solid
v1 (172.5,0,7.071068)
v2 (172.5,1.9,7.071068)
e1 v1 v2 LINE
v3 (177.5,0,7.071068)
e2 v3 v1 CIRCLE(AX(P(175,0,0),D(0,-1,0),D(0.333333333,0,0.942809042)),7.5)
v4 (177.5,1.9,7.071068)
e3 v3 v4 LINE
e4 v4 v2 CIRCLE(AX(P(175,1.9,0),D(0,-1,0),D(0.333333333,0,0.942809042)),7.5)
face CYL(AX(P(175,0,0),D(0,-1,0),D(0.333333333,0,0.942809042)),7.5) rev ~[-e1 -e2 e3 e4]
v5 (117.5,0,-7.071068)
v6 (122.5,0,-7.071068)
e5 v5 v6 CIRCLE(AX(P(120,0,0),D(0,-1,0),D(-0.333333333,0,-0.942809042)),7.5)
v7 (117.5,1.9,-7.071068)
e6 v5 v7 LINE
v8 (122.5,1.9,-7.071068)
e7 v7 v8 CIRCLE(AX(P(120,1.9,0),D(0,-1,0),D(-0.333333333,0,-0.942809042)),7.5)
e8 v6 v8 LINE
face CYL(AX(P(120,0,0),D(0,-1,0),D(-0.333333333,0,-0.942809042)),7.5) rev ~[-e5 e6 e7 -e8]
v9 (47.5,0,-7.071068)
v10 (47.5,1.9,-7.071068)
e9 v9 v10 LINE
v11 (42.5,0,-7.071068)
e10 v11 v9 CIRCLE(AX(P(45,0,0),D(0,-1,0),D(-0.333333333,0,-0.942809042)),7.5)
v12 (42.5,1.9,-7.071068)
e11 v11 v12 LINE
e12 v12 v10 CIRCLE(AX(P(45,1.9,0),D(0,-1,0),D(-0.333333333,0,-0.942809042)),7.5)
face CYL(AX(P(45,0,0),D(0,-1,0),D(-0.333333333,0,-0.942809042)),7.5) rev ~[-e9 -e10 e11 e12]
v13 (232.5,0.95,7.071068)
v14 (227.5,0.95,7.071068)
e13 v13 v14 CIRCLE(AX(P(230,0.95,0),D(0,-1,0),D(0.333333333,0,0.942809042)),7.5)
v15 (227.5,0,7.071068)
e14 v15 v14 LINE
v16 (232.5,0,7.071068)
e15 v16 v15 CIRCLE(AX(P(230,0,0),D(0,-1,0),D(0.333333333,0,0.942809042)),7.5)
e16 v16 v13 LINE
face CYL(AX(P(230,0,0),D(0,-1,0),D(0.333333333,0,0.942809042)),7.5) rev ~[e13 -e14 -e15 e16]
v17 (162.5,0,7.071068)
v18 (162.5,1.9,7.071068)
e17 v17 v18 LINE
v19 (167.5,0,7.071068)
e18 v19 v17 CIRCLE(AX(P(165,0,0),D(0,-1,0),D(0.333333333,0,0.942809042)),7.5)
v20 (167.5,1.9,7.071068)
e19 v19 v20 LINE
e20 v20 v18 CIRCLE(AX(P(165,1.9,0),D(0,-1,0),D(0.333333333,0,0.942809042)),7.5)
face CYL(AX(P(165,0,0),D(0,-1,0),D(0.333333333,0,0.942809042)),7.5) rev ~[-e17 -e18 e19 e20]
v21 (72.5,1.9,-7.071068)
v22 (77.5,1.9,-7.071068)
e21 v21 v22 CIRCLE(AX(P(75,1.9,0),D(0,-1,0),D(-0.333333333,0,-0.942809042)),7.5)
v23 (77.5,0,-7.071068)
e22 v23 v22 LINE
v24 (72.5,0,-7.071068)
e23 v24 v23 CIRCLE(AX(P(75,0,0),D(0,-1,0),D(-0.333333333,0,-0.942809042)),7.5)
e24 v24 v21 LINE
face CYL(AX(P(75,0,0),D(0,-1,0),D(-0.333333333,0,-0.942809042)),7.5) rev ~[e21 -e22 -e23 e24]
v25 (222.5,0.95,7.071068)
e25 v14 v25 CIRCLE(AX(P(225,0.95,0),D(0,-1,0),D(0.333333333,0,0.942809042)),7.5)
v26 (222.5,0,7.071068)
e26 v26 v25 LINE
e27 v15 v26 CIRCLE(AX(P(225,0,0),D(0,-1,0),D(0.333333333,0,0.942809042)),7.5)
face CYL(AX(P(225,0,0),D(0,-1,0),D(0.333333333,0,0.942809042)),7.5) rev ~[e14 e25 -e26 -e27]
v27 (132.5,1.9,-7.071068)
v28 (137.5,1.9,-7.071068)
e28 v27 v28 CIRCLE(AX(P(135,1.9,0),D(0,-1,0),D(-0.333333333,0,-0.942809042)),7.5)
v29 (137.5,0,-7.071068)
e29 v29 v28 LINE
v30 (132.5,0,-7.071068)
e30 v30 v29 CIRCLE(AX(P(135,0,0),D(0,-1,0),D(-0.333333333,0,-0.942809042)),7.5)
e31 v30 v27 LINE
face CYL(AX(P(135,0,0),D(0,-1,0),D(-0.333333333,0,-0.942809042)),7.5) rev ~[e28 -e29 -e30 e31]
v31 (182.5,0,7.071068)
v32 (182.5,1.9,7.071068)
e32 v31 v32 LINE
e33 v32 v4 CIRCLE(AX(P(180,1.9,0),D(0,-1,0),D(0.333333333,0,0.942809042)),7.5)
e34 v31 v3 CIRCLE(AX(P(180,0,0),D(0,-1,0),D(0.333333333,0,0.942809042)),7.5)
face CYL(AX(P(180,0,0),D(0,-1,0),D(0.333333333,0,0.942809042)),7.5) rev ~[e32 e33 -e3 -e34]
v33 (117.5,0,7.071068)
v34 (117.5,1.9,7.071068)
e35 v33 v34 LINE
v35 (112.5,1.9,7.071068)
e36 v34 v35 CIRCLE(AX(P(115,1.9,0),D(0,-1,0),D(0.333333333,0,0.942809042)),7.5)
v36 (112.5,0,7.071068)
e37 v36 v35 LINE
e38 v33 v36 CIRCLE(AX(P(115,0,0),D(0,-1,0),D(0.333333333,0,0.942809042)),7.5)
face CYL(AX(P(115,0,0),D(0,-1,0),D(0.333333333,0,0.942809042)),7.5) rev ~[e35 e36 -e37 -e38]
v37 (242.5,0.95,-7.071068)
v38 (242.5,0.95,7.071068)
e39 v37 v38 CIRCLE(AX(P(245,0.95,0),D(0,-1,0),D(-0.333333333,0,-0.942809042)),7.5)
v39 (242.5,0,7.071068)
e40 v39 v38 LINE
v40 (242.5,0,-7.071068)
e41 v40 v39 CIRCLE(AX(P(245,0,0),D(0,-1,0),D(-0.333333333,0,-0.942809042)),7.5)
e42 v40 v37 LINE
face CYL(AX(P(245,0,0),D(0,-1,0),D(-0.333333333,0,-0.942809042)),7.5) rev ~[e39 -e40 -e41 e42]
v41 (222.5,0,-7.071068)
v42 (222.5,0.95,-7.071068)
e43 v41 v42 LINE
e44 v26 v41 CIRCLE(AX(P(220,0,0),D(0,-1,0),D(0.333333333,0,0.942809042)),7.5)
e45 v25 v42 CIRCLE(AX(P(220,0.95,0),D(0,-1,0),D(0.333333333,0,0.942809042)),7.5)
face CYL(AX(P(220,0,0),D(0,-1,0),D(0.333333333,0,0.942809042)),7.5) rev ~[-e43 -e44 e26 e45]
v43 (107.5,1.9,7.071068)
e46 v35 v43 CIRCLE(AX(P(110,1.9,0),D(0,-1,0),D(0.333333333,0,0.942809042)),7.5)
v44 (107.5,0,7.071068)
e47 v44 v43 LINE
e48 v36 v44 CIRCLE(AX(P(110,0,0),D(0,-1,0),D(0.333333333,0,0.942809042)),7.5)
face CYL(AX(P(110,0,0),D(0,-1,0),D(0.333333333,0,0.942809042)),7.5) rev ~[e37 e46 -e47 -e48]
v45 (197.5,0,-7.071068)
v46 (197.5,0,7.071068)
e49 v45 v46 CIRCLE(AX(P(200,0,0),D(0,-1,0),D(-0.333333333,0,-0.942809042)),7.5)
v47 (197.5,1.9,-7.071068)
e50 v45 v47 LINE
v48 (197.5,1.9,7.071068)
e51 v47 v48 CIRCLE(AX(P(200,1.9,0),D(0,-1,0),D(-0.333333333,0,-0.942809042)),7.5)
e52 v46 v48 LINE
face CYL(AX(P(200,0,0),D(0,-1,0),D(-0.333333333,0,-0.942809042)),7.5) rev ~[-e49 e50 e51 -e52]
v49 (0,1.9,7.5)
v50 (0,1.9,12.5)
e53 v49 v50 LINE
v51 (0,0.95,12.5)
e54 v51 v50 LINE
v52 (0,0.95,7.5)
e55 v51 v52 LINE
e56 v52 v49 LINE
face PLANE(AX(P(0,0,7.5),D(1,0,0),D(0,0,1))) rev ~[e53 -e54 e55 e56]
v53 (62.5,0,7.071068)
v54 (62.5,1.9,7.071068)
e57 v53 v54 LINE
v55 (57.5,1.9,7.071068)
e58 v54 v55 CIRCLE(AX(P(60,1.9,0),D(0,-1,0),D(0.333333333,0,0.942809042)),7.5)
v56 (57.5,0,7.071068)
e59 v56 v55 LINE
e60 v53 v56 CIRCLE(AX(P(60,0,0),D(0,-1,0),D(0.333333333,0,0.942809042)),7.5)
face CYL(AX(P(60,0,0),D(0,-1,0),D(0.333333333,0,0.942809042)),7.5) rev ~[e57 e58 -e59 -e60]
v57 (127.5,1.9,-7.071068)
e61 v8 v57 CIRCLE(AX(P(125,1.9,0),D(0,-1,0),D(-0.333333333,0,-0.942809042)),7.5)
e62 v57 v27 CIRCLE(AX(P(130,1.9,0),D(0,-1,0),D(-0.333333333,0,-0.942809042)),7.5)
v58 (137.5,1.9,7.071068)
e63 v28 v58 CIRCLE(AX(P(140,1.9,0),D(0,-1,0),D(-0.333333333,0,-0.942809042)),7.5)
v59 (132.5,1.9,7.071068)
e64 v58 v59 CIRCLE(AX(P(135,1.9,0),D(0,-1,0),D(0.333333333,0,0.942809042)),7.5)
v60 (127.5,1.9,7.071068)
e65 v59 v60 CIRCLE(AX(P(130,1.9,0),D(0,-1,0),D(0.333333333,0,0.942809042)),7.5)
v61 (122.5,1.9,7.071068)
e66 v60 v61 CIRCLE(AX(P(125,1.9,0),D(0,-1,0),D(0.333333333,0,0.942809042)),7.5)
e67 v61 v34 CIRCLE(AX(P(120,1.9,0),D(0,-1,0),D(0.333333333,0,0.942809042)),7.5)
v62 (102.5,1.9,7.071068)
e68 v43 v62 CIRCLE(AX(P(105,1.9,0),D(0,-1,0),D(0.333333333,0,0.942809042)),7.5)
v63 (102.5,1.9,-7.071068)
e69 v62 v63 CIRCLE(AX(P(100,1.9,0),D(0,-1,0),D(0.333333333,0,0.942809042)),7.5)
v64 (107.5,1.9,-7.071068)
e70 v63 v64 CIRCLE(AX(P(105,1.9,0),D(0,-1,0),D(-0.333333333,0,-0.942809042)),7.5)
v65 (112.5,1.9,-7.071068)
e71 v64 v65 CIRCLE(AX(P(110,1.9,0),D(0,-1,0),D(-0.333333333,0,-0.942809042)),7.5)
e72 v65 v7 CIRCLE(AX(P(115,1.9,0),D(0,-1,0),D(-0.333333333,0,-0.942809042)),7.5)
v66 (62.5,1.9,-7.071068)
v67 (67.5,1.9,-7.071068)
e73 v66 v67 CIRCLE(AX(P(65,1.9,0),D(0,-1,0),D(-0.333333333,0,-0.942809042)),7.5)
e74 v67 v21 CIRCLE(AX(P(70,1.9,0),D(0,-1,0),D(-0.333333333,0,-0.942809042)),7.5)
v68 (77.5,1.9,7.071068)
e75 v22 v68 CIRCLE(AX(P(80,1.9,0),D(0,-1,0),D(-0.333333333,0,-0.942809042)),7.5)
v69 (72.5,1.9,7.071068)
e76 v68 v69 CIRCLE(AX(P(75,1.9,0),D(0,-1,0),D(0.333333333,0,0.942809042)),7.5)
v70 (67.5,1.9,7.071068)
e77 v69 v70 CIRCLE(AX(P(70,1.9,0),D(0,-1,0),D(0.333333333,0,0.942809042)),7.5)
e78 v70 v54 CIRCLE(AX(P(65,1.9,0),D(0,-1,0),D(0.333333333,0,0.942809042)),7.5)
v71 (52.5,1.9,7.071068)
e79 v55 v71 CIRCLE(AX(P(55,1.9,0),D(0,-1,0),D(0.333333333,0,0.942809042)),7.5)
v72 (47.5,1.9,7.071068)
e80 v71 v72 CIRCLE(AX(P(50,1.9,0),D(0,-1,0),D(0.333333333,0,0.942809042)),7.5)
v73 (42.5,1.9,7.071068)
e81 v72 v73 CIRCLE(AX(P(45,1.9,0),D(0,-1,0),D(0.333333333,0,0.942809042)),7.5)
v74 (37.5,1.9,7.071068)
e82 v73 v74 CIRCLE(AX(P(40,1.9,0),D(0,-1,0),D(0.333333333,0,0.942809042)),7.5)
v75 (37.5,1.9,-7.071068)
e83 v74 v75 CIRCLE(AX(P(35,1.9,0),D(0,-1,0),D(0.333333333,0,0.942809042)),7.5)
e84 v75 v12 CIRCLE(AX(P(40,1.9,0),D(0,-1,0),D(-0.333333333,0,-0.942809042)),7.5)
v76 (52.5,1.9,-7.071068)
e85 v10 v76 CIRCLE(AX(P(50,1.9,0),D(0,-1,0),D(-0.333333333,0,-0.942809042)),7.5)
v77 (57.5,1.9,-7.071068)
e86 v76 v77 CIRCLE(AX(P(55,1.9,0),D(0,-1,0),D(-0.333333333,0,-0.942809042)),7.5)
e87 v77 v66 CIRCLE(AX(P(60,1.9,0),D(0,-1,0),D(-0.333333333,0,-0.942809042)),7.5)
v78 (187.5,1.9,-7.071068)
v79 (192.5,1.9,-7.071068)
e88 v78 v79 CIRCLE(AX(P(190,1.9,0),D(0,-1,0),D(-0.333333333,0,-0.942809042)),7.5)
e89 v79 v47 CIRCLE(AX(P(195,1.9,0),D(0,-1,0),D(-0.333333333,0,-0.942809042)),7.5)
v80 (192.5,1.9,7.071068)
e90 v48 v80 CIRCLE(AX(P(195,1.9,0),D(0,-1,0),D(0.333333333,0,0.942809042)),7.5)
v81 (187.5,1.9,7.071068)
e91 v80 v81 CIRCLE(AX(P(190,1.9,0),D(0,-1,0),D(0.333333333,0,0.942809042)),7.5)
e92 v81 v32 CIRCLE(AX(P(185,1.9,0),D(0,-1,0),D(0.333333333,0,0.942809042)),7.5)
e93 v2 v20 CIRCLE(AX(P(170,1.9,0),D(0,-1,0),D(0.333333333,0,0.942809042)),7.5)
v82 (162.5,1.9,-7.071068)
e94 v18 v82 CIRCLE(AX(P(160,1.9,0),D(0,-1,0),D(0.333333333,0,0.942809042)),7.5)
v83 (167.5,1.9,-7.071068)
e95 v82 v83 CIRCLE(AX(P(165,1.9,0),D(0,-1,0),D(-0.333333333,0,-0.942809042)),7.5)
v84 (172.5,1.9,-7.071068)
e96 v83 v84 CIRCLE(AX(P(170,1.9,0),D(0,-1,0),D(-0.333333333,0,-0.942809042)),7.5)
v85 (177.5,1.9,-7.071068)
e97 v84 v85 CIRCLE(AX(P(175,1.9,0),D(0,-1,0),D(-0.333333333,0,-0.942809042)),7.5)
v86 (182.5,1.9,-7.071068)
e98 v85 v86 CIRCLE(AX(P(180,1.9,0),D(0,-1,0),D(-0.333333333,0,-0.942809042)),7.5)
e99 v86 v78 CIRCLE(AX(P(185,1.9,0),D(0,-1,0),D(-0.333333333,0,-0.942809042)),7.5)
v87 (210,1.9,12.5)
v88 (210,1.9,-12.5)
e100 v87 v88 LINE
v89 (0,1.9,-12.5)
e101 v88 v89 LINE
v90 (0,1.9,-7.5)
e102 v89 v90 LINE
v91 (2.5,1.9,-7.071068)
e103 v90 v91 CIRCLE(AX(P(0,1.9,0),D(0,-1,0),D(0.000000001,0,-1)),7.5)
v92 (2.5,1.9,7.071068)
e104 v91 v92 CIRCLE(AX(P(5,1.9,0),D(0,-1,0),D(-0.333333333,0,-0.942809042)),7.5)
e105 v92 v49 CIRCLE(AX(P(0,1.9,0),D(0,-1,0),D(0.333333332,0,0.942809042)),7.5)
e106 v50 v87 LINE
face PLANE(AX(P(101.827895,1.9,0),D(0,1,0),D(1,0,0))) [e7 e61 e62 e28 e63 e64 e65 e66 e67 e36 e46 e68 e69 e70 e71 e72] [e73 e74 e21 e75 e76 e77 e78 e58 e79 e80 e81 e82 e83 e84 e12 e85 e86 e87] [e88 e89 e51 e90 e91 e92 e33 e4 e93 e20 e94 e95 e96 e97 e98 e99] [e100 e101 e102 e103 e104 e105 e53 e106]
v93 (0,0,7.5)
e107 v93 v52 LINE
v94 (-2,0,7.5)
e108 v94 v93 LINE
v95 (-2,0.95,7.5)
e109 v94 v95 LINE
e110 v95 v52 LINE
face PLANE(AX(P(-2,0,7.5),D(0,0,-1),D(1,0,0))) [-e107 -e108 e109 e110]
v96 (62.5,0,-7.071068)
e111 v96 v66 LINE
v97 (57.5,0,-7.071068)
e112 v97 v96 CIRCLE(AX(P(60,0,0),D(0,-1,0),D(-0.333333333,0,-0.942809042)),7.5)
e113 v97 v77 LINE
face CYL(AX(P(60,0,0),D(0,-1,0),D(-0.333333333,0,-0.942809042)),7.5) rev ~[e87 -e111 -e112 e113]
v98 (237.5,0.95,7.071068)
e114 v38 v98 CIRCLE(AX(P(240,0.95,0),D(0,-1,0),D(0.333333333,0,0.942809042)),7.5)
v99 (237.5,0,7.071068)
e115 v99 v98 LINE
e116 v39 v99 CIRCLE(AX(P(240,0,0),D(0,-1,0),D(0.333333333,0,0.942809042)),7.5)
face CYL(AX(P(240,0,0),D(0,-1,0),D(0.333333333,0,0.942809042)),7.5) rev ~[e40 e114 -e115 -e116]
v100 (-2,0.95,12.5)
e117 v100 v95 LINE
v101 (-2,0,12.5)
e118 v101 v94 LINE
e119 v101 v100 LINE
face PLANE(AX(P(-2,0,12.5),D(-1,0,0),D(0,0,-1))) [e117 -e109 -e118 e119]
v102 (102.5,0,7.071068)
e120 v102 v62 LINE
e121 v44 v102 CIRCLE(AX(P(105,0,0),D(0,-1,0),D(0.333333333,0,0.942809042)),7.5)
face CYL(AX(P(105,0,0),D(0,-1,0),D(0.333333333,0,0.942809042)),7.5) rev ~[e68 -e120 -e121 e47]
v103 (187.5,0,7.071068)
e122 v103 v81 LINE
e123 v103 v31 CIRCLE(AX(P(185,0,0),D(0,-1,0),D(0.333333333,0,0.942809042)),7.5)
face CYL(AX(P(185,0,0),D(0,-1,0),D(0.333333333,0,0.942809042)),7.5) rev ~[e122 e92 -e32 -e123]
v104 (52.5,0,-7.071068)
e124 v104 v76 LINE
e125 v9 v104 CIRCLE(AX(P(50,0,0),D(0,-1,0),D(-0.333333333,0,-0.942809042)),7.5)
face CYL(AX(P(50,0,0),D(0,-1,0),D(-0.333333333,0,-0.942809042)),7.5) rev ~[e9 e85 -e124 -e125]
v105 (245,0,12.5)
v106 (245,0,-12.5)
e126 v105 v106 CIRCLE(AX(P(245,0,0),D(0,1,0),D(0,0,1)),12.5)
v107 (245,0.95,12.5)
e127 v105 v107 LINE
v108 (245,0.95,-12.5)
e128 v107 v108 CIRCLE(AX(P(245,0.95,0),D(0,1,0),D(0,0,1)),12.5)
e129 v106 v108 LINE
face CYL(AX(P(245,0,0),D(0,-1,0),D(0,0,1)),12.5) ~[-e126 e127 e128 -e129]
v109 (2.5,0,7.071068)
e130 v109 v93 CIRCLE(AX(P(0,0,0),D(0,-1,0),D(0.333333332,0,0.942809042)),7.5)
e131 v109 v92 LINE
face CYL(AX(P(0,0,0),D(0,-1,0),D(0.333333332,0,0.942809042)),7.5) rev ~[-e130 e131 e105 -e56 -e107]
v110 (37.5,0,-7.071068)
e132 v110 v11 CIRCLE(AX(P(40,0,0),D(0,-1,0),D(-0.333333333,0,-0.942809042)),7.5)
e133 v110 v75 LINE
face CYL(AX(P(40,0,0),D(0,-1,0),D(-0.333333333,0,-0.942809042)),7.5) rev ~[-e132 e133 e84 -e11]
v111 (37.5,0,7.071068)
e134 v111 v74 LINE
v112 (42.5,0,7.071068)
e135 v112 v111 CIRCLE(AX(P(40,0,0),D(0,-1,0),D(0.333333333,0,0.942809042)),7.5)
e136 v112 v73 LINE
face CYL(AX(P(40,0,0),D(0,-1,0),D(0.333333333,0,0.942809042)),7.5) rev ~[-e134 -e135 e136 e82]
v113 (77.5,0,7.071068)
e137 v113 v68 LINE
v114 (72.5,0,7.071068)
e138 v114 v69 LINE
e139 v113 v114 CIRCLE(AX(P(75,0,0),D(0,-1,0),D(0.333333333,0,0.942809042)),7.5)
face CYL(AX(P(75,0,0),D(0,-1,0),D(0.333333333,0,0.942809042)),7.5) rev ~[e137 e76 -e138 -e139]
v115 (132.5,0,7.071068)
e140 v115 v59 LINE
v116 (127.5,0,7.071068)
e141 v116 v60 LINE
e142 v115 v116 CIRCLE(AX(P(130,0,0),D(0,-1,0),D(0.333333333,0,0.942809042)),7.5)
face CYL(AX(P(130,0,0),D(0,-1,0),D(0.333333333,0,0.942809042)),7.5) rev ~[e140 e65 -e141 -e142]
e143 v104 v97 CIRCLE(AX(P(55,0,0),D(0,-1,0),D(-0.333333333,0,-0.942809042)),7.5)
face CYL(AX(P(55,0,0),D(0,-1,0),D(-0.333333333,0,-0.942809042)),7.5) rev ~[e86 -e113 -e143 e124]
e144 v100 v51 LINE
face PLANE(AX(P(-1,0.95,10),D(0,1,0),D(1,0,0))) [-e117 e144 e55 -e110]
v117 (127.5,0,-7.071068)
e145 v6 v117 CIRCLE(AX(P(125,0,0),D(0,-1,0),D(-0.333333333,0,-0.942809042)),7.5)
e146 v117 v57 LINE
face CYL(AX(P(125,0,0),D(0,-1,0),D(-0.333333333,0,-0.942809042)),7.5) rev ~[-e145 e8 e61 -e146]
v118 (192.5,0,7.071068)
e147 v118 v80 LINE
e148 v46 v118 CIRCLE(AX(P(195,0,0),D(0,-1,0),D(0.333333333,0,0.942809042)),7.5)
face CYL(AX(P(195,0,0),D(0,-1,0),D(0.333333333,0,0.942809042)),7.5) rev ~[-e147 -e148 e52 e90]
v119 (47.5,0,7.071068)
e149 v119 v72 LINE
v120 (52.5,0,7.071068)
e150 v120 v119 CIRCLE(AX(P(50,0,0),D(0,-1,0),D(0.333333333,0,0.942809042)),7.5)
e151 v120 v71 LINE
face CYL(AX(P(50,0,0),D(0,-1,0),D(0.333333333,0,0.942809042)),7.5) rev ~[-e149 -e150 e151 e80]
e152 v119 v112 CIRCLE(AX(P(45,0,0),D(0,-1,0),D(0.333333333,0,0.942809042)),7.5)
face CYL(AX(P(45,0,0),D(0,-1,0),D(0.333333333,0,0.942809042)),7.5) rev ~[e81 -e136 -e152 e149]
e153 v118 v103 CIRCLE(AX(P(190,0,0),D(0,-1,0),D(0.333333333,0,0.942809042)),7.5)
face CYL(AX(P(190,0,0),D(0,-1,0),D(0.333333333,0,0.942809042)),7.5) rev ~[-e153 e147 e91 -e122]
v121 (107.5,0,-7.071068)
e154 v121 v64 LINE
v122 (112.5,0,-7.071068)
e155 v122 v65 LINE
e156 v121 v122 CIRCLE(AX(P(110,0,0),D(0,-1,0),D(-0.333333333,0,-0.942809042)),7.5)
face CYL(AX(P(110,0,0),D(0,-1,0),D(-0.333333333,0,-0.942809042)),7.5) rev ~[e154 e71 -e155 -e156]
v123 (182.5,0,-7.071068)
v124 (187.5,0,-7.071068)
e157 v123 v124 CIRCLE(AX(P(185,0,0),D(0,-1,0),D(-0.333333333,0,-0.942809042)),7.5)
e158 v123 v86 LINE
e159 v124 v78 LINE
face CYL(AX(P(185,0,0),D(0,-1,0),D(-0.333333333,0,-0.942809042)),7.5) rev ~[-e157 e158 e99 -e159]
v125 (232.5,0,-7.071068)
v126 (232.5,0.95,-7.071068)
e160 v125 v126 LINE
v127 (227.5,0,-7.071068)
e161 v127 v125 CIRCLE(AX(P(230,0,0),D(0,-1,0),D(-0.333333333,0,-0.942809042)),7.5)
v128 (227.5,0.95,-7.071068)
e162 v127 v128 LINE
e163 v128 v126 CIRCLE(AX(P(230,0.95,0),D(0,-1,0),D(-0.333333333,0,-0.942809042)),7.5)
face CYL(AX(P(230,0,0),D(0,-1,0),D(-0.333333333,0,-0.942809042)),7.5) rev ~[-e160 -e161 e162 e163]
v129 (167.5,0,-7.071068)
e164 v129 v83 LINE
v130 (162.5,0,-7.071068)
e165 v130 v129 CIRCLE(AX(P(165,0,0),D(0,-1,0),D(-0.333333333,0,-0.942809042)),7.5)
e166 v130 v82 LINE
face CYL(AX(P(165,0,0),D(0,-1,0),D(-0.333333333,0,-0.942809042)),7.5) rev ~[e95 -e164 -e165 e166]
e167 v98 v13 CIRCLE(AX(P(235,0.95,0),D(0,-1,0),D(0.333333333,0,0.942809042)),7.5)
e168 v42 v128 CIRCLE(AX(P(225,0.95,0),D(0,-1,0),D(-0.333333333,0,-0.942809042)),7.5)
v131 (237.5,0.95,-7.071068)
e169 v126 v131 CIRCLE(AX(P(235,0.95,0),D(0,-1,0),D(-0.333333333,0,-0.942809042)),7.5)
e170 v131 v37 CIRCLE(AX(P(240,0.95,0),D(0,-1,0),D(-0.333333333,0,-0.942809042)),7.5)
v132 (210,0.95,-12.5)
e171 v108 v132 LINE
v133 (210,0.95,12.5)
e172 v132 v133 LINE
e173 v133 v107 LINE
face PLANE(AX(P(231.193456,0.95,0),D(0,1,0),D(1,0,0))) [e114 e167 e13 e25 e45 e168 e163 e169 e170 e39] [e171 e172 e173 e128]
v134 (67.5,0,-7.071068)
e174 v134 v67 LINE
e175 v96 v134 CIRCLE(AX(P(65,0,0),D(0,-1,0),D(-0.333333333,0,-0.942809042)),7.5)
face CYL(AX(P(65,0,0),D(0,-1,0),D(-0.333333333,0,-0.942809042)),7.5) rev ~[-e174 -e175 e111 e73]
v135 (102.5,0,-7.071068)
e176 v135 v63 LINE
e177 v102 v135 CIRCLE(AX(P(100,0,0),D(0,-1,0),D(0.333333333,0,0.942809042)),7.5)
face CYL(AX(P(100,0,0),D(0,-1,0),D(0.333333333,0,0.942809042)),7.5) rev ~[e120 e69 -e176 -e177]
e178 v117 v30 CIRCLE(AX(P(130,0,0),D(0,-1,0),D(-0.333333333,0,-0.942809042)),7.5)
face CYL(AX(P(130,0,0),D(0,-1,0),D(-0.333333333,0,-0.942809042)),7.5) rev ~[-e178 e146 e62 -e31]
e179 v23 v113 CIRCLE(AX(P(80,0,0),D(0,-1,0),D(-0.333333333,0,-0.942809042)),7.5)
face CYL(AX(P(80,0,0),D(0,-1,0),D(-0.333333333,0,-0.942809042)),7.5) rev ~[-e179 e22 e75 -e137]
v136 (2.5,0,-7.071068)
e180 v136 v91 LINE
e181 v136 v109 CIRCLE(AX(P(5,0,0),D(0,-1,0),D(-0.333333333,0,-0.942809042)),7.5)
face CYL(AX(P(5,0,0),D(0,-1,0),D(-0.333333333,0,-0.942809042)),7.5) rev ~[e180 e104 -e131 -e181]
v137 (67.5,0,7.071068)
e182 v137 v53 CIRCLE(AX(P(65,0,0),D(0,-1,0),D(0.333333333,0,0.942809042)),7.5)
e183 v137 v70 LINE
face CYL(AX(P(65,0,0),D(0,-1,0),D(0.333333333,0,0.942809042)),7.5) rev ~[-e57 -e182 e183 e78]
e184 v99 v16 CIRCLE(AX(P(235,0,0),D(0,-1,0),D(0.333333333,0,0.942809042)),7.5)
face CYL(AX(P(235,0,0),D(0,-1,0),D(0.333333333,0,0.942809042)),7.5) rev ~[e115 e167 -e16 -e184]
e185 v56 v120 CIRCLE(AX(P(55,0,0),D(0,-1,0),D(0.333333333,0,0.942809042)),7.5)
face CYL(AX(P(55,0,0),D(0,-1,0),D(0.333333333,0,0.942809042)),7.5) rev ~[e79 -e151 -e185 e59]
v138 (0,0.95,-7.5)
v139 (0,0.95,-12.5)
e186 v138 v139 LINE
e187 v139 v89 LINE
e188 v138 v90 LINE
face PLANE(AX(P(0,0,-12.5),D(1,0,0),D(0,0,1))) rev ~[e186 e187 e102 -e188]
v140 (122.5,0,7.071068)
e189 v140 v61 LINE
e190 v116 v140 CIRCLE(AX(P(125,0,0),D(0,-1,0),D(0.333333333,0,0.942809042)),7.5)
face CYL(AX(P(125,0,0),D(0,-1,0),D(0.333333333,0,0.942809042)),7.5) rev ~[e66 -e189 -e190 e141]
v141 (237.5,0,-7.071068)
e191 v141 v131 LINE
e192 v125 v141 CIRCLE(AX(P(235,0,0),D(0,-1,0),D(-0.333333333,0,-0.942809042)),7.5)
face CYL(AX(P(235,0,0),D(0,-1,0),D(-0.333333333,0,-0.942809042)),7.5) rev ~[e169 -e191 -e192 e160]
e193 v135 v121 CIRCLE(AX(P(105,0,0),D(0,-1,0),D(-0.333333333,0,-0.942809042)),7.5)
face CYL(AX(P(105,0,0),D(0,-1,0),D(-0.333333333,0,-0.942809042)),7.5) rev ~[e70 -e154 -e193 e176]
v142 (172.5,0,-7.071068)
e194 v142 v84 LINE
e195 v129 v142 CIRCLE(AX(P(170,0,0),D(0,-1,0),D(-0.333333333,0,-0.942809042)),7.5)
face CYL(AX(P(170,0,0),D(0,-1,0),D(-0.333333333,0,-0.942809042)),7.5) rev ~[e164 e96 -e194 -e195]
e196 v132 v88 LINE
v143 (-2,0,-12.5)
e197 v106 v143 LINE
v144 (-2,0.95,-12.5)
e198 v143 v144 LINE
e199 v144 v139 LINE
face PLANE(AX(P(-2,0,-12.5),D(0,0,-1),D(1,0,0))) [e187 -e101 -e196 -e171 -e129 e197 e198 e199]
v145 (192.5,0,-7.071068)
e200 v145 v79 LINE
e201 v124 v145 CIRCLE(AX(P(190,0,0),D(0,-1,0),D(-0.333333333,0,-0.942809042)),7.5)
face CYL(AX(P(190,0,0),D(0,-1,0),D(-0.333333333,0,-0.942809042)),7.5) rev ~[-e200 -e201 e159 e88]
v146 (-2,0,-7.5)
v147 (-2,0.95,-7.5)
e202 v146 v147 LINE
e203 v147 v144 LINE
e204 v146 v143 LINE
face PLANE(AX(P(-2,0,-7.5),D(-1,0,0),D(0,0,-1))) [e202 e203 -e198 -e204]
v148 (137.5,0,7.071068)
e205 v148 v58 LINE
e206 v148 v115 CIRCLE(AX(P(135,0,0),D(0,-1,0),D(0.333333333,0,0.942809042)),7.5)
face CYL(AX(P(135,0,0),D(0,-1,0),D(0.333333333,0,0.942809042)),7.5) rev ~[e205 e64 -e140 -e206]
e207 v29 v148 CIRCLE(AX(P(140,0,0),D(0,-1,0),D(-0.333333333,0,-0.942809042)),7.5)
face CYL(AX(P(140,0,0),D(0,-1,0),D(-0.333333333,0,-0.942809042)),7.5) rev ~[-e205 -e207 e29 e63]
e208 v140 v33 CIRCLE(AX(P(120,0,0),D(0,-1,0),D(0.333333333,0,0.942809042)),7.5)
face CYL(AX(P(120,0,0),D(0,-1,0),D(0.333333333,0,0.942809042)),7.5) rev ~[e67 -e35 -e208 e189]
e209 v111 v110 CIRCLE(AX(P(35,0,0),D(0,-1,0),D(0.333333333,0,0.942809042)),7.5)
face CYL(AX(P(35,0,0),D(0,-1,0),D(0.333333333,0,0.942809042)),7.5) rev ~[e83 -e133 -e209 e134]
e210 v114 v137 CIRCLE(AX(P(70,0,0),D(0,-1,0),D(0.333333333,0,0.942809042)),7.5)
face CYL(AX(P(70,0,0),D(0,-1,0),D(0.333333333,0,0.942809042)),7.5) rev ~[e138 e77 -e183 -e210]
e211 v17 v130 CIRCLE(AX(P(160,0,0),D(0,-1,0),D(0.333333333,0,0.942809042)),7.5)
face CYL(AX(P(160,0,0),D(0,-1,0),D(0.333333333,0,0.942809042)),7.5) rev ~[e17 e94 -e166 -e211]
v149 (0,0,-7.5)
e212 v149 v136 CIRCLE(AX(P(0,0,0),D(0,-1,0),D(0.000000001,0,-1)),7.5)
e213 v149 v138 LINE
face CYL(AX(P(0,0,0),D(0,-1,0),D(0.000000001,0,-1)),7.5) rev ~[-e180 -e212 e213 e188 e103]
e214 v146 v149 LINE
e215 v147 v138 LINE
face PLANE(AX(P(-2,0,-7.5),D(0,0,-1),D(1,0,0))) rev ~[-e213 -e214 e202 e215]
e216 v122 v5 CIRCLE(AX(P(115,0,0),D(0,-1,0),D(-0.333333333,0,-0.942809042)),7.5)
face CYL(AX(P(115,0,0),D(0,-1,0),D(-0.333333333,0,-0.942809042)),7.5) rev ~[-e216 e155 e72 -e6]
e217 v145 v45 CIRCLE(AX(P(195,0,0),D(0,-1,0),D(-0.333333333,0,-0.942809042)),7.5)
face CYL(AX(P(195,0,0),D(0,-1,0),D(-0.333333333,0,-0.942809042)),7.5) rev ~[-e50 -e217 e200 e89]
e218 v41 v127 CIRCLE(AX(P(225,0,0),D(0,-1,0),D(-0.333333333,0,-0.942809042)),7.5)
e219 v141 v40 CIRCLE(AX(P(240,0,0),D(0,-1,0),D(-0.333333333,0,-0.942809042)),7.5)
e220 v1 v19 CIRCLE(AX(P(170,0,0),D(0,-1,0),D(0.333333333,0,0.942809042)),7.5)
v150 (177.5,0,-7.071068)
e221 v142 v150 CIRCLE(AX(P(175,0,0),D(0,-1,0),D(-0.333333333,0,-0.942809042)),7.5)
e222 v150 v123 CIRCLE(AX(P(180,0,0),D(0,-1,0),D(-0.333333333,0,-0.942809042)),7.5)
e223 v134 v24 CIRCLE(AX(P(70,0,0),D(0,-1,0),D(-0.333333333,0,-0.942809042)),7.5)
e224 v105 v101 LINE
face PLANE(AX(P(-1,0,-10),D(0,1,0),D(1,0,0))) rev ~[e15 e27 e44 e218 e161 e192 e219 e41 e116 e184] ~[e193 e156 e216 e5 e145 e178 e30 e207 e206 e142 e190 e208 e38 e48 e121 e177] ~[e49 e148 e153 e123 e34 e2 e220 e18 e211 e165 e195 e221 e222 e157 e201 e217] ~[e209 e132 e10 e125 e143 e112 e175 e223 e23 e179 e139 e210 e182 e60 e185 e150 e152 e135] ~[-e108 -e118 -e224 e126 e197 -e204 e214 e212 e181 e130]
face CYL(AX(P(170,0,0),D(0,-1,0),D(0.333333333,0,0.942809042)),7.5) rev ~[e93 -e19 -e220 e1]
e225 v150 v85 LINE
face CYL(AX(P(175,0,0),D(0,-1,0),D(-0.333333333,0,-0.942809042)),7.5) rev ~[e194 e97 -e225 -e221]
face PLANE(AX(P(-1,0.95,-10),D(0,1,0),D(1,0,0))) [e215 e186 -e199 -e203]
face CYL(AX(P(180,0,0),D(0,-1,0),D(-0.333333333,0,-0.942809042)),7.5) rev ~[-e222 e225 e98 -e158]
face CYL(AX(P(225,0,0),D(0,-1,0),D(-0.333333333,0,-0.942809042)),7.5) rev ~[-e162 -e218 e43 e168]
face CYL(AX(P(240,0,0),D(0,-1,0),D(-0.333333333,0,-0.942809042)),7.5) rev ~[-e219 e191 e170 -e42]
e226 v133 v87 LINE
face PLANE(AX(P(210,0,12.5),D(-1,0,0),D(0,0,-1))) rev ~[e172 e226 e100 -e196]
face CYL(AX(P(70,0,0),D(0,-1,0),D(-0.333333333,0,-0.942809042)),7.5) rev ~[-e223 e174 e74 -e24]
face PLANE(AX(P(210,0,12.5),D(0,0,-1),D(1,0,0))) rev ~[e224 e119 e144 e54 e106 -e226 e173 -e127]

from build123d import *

# Parameters (mm, degrees)
BOSS_EXTRUDE1_DEPTH = 1.9
BOSS_EXTRUDE3_DEPTH = 0.95
SKETCH2_W           = 2
SKETCH2_H           = 5
BOSS_EXTRUDE2_DEPTH = 0.95


with BuildPart() as part:
    # Sketch1 → Boss-Extrude1 (new body)
    with BuildSketch(Plane(origin=(0, 0, 0), x_dir=(1, 0, 0), z_dir=(0, 1, 0))):
        with BuildLine():
            Line((0, -7.5), (0, -12.5))
            Line((0, -12.5), (210, -12.5))
            Line((210, -12.5), (210, 12.5))
            Line((210, 12.5), (0, 12.5))
            Line((0, 12.5), (0, 7.5))
            ThreePointArc((0, 7.5), (1.26826484, 7.391989197), (2.5, 7.071067812))
            ThreePointArc((2.5, 7.071067812), (12.5, 0), (2.5, -7.071067812))
            ThreePointArc((2.5, -7.071067812), (1.26826484, -7.391989197), (0, -7.5))
        make_face()
        with BuildLine():
            ThreePointArc((37.5, 7.071067812), (40, 7.5), (42.5, 7.071067812))
            ThreePointArc((42.5, 7.071067812), (45, 7.5), (47.5, 7.071067812))
            ThreePointArc((47.5, 7.071067812), (50, 7.5), (52.5, 7.071067812))
            ThreePointArc((52.5, 7.071067812), (55, 7.5), (57.5, 7.071067812))
            ThreePointArc((57.5, 7.071067812), (60, 7.5), (62.5, 7.071067812))
            ThreePointArc((62.5, 7.071067812), (65, 7.5), (67.5, 7.071067812))
            ThreePointArc((67.5, 7.071067812), (70, 7.5), (72.5, 7.071067812))
            ThreePointArc((72.5, 7.071067812), (75, 7.5), (77.5, 7.071067812))
            ThreePointArc((77.5, 7.071067812), (87.5, 0), (77.5, -7.071067812))
            ThreePointArc((77.5, -7.071067812), (75, -7.5), (72.5, -7.071067812))
            ThreePointArc((72.5, -7.071067812), (70, -7.5), (67.5, -7.071067812))
            ThreePointArc((67.5, -7.071067812), (65, -7.5), (62.5, -7.071067812))
            ThreePointArc((62.5, -7.071067812), (60, -7.5), (57.5, -7.071067812))
            ThreePointArc((57.5, -7.071067812), (55, -7.5), (52.5, -7.071067812))
            ThreePointArc((52.5, -7.071067812), (50, -7.5), (47.5, -7.071067812))
            ThreePointArc((47.5, -7.071067812), (45, -7.5), (42.5, -7.071067812))
            ThreePointArc((42.5, -7.071067812), (40, -7.5), (37.5, -7.071067812))
            ThreePointArc((37.5, -7.071067812), (27.5, 0), (37.5, 7.071067812))
        make_face(mode=Mode.SUBTRACT)
        with BuildLine():
            ThreePointArc((102.5, 7.071067812), (105, 7.5), (107.5, 7.071067812))
            ThreePointArc((107.5, 7.071067812), (110, 7.5), (112.5, 7.071067812))
            ThreePointArc((112.5, 7.071067812), (115, 7.5), (117.5, 7.071067812))
            ThreePointArc((117.5, 7.071067812), (120, 7.5), (122.5, 7.071067812))
            ThreePointArc((122.5, 7.071067812), (125, 7.5), (127.5, 7.071067812))
            ThreePointArc((127.5, 7.071067812), (130, 7.5), (132.5, 7.071067812))
            ThreePointArc((132.5, 7.071067812), (135, 7.5), (137.5, 7.071067812))
            ThreePointArc((137.5, 7.071067812), (147.5, 0), (137.5, -7.071067812))
            ThreePointArc((137.5, -7.071067812), (135, -7.5), (132.5, -7.071067812))
            ThreePointArc((132.5, -7.071067812), (130, -7.5), (127.5, -7.071067812))
            ThreePointArc((127.5, -7.071067812), (125, -7.5), (122.5, -7.071067812))
            ThreePointArc((122.5, -7.071067812), (120, -7.5), (117.5, -7.071067812))
            ThreePointArc((117.5, -7.071067812), (115, -7.5), (112.5, -7.071067812))
            ThreePointArc((112.5, -7.071067812), (110, -7.5), (107.5, -7.071067812))
            ThreePointArc((107.5, -7.071067812), (105, -7.5), (102.5, -7.071067812))
            ThreePointArc((102.5, -7.071067812), (92.5, 0), (102.5, 7.071067812))
        make_face(mode=Mode.SUBTRACT)
        with BuildLine():
            ThreePointArc((162.5, 7.071067812), (165, 7.5), (167.5, 7.071067812))
            ThreePointArc((167.5, 7.071067812), (170, 7.5), (172.5, 7.071067812))
            ThreePointArc((172.5, 7.071067812), (175, 7.5), (177.5, 7.071067812))
            ThreePointArc((177.5, 7.071067812), (180, 7.5), (182.5, 7.071067812))
            ThreePointArc((182.5, 7.071067812), (185, 7.5), (187.5, 7.071067812))
            ThreePointArc((187.5, 7.071067812), (190, 7.5), (192.5, 7.071067812))
            ThreePointArc((192.5, 7.071067812), (195, 7.5), (197.5, 7.071067812))
            ThreePointArc((197.5, 7.071067812), (207.5, 0), (197.5, -7.071067812))
            ThreePointArc((197.5, -7.071067812), (195, -7.5), (192.5, -7.071067812))
            ThreePointArc((192.5, -7.071067812), (190, -7.5), (187.5, -7.071067812))
            ThreePointArc((187.5, -7.071067812), (185, -7.5), (182.5, -7.071067812))
            ThreePointArc((182.5, -7.071067812), (180, -7.5), (177.5, -7.071067812))
            ThreePointArc((177.5, -7.071067812), (175, -7.5), (172.5, -7.071067812))
            ThreePointArc((172.5, -7.071067812), (170, -7.5), (167.5, -7.071067812))
            ThreePointArc((167.5, -7.071067812), (165, -7.5), (162.5, -7.071067812))
            ThreePointArc((162.5, -7.071067812), (152.5, 0), (162.5, 7.071067812))
        make_face(mode=Mode.SUBTRACT)
    extrude(amount=BOSS_EXTRUDE1_DEPTH)

    # Sketch1<3> → Boss-Extrude3 (add)
    with BuildSketch(Plane(origin=(0, 0, 0), x_dir=(1, 0, 0), z_dir=(0, 1, 0))):
        with BuildLine():
            Line((210, -12.5), (245, -12.5))
            ThreePointArc((245, -12.5), (257.5, 0), (245, 12.5))
            Line((245, 12.5), (210, 12.5))
            Line((210, 12.5), (210, -12.5))
        make_face()
        with BuildLine():
            ThreePointArc((222.5, -7.071067812), (212.5, 0), (222.5, 7.071067812))
            ThreePointArc((222.5, 7.071067812), (225, 7.5), (227.5, 7.071067812))
            ThreePointArc((227.5, 7.071067812), (230, 7.5), (232.5, 7.071067812))
            ThreePointArc((232.5, 7.071067812), (235, 7.5), (237.5, 7.071067812))
            ThreePointArc((237.5, 7.071067812), (240, 7.5), (242.5, 7.071067812))
            ThreePointArc((242.5, 7.071067812), (252.5, 0), (242.5, -7.071067812))
            ThreePointArc((242.5, -7.071067812), (240, -7.5), (237.5, -7.071067812))
            ThreePointArc((237.5, -7.071067812), (235, -7.5), (232.5, -7.071067812))
            ThreePointArc((232.5, -7.071067812), (230, -7.5), (227.5, -7.071067812))
            ThreePointArc((227.5, -7.071067812), (225, -7.5), (222.5, -7.071067812))
        make_face(mode=Mode.SUBTRACT)
    extrude(amount=BOSS_EXTRUDE3_DEPTH)

    # Sketch2 → Boss-Extrude2 (add)
    with BuildSketch(Plane(origin=(0, 0, 0), x_dir=(1, 0, 0), z_dir=(0, 1, 0))):
        with Locations((-1, 10)):
            Rectangle(SKETCH2_W, SKETCH2_H)
        with Locations((-1, -10)):
            Rectangle(SKETCH2_W, SKETCH2_H)
    extrude(amount=BOSS_EXTRUDE2_DEPTH)


solid = part.part
